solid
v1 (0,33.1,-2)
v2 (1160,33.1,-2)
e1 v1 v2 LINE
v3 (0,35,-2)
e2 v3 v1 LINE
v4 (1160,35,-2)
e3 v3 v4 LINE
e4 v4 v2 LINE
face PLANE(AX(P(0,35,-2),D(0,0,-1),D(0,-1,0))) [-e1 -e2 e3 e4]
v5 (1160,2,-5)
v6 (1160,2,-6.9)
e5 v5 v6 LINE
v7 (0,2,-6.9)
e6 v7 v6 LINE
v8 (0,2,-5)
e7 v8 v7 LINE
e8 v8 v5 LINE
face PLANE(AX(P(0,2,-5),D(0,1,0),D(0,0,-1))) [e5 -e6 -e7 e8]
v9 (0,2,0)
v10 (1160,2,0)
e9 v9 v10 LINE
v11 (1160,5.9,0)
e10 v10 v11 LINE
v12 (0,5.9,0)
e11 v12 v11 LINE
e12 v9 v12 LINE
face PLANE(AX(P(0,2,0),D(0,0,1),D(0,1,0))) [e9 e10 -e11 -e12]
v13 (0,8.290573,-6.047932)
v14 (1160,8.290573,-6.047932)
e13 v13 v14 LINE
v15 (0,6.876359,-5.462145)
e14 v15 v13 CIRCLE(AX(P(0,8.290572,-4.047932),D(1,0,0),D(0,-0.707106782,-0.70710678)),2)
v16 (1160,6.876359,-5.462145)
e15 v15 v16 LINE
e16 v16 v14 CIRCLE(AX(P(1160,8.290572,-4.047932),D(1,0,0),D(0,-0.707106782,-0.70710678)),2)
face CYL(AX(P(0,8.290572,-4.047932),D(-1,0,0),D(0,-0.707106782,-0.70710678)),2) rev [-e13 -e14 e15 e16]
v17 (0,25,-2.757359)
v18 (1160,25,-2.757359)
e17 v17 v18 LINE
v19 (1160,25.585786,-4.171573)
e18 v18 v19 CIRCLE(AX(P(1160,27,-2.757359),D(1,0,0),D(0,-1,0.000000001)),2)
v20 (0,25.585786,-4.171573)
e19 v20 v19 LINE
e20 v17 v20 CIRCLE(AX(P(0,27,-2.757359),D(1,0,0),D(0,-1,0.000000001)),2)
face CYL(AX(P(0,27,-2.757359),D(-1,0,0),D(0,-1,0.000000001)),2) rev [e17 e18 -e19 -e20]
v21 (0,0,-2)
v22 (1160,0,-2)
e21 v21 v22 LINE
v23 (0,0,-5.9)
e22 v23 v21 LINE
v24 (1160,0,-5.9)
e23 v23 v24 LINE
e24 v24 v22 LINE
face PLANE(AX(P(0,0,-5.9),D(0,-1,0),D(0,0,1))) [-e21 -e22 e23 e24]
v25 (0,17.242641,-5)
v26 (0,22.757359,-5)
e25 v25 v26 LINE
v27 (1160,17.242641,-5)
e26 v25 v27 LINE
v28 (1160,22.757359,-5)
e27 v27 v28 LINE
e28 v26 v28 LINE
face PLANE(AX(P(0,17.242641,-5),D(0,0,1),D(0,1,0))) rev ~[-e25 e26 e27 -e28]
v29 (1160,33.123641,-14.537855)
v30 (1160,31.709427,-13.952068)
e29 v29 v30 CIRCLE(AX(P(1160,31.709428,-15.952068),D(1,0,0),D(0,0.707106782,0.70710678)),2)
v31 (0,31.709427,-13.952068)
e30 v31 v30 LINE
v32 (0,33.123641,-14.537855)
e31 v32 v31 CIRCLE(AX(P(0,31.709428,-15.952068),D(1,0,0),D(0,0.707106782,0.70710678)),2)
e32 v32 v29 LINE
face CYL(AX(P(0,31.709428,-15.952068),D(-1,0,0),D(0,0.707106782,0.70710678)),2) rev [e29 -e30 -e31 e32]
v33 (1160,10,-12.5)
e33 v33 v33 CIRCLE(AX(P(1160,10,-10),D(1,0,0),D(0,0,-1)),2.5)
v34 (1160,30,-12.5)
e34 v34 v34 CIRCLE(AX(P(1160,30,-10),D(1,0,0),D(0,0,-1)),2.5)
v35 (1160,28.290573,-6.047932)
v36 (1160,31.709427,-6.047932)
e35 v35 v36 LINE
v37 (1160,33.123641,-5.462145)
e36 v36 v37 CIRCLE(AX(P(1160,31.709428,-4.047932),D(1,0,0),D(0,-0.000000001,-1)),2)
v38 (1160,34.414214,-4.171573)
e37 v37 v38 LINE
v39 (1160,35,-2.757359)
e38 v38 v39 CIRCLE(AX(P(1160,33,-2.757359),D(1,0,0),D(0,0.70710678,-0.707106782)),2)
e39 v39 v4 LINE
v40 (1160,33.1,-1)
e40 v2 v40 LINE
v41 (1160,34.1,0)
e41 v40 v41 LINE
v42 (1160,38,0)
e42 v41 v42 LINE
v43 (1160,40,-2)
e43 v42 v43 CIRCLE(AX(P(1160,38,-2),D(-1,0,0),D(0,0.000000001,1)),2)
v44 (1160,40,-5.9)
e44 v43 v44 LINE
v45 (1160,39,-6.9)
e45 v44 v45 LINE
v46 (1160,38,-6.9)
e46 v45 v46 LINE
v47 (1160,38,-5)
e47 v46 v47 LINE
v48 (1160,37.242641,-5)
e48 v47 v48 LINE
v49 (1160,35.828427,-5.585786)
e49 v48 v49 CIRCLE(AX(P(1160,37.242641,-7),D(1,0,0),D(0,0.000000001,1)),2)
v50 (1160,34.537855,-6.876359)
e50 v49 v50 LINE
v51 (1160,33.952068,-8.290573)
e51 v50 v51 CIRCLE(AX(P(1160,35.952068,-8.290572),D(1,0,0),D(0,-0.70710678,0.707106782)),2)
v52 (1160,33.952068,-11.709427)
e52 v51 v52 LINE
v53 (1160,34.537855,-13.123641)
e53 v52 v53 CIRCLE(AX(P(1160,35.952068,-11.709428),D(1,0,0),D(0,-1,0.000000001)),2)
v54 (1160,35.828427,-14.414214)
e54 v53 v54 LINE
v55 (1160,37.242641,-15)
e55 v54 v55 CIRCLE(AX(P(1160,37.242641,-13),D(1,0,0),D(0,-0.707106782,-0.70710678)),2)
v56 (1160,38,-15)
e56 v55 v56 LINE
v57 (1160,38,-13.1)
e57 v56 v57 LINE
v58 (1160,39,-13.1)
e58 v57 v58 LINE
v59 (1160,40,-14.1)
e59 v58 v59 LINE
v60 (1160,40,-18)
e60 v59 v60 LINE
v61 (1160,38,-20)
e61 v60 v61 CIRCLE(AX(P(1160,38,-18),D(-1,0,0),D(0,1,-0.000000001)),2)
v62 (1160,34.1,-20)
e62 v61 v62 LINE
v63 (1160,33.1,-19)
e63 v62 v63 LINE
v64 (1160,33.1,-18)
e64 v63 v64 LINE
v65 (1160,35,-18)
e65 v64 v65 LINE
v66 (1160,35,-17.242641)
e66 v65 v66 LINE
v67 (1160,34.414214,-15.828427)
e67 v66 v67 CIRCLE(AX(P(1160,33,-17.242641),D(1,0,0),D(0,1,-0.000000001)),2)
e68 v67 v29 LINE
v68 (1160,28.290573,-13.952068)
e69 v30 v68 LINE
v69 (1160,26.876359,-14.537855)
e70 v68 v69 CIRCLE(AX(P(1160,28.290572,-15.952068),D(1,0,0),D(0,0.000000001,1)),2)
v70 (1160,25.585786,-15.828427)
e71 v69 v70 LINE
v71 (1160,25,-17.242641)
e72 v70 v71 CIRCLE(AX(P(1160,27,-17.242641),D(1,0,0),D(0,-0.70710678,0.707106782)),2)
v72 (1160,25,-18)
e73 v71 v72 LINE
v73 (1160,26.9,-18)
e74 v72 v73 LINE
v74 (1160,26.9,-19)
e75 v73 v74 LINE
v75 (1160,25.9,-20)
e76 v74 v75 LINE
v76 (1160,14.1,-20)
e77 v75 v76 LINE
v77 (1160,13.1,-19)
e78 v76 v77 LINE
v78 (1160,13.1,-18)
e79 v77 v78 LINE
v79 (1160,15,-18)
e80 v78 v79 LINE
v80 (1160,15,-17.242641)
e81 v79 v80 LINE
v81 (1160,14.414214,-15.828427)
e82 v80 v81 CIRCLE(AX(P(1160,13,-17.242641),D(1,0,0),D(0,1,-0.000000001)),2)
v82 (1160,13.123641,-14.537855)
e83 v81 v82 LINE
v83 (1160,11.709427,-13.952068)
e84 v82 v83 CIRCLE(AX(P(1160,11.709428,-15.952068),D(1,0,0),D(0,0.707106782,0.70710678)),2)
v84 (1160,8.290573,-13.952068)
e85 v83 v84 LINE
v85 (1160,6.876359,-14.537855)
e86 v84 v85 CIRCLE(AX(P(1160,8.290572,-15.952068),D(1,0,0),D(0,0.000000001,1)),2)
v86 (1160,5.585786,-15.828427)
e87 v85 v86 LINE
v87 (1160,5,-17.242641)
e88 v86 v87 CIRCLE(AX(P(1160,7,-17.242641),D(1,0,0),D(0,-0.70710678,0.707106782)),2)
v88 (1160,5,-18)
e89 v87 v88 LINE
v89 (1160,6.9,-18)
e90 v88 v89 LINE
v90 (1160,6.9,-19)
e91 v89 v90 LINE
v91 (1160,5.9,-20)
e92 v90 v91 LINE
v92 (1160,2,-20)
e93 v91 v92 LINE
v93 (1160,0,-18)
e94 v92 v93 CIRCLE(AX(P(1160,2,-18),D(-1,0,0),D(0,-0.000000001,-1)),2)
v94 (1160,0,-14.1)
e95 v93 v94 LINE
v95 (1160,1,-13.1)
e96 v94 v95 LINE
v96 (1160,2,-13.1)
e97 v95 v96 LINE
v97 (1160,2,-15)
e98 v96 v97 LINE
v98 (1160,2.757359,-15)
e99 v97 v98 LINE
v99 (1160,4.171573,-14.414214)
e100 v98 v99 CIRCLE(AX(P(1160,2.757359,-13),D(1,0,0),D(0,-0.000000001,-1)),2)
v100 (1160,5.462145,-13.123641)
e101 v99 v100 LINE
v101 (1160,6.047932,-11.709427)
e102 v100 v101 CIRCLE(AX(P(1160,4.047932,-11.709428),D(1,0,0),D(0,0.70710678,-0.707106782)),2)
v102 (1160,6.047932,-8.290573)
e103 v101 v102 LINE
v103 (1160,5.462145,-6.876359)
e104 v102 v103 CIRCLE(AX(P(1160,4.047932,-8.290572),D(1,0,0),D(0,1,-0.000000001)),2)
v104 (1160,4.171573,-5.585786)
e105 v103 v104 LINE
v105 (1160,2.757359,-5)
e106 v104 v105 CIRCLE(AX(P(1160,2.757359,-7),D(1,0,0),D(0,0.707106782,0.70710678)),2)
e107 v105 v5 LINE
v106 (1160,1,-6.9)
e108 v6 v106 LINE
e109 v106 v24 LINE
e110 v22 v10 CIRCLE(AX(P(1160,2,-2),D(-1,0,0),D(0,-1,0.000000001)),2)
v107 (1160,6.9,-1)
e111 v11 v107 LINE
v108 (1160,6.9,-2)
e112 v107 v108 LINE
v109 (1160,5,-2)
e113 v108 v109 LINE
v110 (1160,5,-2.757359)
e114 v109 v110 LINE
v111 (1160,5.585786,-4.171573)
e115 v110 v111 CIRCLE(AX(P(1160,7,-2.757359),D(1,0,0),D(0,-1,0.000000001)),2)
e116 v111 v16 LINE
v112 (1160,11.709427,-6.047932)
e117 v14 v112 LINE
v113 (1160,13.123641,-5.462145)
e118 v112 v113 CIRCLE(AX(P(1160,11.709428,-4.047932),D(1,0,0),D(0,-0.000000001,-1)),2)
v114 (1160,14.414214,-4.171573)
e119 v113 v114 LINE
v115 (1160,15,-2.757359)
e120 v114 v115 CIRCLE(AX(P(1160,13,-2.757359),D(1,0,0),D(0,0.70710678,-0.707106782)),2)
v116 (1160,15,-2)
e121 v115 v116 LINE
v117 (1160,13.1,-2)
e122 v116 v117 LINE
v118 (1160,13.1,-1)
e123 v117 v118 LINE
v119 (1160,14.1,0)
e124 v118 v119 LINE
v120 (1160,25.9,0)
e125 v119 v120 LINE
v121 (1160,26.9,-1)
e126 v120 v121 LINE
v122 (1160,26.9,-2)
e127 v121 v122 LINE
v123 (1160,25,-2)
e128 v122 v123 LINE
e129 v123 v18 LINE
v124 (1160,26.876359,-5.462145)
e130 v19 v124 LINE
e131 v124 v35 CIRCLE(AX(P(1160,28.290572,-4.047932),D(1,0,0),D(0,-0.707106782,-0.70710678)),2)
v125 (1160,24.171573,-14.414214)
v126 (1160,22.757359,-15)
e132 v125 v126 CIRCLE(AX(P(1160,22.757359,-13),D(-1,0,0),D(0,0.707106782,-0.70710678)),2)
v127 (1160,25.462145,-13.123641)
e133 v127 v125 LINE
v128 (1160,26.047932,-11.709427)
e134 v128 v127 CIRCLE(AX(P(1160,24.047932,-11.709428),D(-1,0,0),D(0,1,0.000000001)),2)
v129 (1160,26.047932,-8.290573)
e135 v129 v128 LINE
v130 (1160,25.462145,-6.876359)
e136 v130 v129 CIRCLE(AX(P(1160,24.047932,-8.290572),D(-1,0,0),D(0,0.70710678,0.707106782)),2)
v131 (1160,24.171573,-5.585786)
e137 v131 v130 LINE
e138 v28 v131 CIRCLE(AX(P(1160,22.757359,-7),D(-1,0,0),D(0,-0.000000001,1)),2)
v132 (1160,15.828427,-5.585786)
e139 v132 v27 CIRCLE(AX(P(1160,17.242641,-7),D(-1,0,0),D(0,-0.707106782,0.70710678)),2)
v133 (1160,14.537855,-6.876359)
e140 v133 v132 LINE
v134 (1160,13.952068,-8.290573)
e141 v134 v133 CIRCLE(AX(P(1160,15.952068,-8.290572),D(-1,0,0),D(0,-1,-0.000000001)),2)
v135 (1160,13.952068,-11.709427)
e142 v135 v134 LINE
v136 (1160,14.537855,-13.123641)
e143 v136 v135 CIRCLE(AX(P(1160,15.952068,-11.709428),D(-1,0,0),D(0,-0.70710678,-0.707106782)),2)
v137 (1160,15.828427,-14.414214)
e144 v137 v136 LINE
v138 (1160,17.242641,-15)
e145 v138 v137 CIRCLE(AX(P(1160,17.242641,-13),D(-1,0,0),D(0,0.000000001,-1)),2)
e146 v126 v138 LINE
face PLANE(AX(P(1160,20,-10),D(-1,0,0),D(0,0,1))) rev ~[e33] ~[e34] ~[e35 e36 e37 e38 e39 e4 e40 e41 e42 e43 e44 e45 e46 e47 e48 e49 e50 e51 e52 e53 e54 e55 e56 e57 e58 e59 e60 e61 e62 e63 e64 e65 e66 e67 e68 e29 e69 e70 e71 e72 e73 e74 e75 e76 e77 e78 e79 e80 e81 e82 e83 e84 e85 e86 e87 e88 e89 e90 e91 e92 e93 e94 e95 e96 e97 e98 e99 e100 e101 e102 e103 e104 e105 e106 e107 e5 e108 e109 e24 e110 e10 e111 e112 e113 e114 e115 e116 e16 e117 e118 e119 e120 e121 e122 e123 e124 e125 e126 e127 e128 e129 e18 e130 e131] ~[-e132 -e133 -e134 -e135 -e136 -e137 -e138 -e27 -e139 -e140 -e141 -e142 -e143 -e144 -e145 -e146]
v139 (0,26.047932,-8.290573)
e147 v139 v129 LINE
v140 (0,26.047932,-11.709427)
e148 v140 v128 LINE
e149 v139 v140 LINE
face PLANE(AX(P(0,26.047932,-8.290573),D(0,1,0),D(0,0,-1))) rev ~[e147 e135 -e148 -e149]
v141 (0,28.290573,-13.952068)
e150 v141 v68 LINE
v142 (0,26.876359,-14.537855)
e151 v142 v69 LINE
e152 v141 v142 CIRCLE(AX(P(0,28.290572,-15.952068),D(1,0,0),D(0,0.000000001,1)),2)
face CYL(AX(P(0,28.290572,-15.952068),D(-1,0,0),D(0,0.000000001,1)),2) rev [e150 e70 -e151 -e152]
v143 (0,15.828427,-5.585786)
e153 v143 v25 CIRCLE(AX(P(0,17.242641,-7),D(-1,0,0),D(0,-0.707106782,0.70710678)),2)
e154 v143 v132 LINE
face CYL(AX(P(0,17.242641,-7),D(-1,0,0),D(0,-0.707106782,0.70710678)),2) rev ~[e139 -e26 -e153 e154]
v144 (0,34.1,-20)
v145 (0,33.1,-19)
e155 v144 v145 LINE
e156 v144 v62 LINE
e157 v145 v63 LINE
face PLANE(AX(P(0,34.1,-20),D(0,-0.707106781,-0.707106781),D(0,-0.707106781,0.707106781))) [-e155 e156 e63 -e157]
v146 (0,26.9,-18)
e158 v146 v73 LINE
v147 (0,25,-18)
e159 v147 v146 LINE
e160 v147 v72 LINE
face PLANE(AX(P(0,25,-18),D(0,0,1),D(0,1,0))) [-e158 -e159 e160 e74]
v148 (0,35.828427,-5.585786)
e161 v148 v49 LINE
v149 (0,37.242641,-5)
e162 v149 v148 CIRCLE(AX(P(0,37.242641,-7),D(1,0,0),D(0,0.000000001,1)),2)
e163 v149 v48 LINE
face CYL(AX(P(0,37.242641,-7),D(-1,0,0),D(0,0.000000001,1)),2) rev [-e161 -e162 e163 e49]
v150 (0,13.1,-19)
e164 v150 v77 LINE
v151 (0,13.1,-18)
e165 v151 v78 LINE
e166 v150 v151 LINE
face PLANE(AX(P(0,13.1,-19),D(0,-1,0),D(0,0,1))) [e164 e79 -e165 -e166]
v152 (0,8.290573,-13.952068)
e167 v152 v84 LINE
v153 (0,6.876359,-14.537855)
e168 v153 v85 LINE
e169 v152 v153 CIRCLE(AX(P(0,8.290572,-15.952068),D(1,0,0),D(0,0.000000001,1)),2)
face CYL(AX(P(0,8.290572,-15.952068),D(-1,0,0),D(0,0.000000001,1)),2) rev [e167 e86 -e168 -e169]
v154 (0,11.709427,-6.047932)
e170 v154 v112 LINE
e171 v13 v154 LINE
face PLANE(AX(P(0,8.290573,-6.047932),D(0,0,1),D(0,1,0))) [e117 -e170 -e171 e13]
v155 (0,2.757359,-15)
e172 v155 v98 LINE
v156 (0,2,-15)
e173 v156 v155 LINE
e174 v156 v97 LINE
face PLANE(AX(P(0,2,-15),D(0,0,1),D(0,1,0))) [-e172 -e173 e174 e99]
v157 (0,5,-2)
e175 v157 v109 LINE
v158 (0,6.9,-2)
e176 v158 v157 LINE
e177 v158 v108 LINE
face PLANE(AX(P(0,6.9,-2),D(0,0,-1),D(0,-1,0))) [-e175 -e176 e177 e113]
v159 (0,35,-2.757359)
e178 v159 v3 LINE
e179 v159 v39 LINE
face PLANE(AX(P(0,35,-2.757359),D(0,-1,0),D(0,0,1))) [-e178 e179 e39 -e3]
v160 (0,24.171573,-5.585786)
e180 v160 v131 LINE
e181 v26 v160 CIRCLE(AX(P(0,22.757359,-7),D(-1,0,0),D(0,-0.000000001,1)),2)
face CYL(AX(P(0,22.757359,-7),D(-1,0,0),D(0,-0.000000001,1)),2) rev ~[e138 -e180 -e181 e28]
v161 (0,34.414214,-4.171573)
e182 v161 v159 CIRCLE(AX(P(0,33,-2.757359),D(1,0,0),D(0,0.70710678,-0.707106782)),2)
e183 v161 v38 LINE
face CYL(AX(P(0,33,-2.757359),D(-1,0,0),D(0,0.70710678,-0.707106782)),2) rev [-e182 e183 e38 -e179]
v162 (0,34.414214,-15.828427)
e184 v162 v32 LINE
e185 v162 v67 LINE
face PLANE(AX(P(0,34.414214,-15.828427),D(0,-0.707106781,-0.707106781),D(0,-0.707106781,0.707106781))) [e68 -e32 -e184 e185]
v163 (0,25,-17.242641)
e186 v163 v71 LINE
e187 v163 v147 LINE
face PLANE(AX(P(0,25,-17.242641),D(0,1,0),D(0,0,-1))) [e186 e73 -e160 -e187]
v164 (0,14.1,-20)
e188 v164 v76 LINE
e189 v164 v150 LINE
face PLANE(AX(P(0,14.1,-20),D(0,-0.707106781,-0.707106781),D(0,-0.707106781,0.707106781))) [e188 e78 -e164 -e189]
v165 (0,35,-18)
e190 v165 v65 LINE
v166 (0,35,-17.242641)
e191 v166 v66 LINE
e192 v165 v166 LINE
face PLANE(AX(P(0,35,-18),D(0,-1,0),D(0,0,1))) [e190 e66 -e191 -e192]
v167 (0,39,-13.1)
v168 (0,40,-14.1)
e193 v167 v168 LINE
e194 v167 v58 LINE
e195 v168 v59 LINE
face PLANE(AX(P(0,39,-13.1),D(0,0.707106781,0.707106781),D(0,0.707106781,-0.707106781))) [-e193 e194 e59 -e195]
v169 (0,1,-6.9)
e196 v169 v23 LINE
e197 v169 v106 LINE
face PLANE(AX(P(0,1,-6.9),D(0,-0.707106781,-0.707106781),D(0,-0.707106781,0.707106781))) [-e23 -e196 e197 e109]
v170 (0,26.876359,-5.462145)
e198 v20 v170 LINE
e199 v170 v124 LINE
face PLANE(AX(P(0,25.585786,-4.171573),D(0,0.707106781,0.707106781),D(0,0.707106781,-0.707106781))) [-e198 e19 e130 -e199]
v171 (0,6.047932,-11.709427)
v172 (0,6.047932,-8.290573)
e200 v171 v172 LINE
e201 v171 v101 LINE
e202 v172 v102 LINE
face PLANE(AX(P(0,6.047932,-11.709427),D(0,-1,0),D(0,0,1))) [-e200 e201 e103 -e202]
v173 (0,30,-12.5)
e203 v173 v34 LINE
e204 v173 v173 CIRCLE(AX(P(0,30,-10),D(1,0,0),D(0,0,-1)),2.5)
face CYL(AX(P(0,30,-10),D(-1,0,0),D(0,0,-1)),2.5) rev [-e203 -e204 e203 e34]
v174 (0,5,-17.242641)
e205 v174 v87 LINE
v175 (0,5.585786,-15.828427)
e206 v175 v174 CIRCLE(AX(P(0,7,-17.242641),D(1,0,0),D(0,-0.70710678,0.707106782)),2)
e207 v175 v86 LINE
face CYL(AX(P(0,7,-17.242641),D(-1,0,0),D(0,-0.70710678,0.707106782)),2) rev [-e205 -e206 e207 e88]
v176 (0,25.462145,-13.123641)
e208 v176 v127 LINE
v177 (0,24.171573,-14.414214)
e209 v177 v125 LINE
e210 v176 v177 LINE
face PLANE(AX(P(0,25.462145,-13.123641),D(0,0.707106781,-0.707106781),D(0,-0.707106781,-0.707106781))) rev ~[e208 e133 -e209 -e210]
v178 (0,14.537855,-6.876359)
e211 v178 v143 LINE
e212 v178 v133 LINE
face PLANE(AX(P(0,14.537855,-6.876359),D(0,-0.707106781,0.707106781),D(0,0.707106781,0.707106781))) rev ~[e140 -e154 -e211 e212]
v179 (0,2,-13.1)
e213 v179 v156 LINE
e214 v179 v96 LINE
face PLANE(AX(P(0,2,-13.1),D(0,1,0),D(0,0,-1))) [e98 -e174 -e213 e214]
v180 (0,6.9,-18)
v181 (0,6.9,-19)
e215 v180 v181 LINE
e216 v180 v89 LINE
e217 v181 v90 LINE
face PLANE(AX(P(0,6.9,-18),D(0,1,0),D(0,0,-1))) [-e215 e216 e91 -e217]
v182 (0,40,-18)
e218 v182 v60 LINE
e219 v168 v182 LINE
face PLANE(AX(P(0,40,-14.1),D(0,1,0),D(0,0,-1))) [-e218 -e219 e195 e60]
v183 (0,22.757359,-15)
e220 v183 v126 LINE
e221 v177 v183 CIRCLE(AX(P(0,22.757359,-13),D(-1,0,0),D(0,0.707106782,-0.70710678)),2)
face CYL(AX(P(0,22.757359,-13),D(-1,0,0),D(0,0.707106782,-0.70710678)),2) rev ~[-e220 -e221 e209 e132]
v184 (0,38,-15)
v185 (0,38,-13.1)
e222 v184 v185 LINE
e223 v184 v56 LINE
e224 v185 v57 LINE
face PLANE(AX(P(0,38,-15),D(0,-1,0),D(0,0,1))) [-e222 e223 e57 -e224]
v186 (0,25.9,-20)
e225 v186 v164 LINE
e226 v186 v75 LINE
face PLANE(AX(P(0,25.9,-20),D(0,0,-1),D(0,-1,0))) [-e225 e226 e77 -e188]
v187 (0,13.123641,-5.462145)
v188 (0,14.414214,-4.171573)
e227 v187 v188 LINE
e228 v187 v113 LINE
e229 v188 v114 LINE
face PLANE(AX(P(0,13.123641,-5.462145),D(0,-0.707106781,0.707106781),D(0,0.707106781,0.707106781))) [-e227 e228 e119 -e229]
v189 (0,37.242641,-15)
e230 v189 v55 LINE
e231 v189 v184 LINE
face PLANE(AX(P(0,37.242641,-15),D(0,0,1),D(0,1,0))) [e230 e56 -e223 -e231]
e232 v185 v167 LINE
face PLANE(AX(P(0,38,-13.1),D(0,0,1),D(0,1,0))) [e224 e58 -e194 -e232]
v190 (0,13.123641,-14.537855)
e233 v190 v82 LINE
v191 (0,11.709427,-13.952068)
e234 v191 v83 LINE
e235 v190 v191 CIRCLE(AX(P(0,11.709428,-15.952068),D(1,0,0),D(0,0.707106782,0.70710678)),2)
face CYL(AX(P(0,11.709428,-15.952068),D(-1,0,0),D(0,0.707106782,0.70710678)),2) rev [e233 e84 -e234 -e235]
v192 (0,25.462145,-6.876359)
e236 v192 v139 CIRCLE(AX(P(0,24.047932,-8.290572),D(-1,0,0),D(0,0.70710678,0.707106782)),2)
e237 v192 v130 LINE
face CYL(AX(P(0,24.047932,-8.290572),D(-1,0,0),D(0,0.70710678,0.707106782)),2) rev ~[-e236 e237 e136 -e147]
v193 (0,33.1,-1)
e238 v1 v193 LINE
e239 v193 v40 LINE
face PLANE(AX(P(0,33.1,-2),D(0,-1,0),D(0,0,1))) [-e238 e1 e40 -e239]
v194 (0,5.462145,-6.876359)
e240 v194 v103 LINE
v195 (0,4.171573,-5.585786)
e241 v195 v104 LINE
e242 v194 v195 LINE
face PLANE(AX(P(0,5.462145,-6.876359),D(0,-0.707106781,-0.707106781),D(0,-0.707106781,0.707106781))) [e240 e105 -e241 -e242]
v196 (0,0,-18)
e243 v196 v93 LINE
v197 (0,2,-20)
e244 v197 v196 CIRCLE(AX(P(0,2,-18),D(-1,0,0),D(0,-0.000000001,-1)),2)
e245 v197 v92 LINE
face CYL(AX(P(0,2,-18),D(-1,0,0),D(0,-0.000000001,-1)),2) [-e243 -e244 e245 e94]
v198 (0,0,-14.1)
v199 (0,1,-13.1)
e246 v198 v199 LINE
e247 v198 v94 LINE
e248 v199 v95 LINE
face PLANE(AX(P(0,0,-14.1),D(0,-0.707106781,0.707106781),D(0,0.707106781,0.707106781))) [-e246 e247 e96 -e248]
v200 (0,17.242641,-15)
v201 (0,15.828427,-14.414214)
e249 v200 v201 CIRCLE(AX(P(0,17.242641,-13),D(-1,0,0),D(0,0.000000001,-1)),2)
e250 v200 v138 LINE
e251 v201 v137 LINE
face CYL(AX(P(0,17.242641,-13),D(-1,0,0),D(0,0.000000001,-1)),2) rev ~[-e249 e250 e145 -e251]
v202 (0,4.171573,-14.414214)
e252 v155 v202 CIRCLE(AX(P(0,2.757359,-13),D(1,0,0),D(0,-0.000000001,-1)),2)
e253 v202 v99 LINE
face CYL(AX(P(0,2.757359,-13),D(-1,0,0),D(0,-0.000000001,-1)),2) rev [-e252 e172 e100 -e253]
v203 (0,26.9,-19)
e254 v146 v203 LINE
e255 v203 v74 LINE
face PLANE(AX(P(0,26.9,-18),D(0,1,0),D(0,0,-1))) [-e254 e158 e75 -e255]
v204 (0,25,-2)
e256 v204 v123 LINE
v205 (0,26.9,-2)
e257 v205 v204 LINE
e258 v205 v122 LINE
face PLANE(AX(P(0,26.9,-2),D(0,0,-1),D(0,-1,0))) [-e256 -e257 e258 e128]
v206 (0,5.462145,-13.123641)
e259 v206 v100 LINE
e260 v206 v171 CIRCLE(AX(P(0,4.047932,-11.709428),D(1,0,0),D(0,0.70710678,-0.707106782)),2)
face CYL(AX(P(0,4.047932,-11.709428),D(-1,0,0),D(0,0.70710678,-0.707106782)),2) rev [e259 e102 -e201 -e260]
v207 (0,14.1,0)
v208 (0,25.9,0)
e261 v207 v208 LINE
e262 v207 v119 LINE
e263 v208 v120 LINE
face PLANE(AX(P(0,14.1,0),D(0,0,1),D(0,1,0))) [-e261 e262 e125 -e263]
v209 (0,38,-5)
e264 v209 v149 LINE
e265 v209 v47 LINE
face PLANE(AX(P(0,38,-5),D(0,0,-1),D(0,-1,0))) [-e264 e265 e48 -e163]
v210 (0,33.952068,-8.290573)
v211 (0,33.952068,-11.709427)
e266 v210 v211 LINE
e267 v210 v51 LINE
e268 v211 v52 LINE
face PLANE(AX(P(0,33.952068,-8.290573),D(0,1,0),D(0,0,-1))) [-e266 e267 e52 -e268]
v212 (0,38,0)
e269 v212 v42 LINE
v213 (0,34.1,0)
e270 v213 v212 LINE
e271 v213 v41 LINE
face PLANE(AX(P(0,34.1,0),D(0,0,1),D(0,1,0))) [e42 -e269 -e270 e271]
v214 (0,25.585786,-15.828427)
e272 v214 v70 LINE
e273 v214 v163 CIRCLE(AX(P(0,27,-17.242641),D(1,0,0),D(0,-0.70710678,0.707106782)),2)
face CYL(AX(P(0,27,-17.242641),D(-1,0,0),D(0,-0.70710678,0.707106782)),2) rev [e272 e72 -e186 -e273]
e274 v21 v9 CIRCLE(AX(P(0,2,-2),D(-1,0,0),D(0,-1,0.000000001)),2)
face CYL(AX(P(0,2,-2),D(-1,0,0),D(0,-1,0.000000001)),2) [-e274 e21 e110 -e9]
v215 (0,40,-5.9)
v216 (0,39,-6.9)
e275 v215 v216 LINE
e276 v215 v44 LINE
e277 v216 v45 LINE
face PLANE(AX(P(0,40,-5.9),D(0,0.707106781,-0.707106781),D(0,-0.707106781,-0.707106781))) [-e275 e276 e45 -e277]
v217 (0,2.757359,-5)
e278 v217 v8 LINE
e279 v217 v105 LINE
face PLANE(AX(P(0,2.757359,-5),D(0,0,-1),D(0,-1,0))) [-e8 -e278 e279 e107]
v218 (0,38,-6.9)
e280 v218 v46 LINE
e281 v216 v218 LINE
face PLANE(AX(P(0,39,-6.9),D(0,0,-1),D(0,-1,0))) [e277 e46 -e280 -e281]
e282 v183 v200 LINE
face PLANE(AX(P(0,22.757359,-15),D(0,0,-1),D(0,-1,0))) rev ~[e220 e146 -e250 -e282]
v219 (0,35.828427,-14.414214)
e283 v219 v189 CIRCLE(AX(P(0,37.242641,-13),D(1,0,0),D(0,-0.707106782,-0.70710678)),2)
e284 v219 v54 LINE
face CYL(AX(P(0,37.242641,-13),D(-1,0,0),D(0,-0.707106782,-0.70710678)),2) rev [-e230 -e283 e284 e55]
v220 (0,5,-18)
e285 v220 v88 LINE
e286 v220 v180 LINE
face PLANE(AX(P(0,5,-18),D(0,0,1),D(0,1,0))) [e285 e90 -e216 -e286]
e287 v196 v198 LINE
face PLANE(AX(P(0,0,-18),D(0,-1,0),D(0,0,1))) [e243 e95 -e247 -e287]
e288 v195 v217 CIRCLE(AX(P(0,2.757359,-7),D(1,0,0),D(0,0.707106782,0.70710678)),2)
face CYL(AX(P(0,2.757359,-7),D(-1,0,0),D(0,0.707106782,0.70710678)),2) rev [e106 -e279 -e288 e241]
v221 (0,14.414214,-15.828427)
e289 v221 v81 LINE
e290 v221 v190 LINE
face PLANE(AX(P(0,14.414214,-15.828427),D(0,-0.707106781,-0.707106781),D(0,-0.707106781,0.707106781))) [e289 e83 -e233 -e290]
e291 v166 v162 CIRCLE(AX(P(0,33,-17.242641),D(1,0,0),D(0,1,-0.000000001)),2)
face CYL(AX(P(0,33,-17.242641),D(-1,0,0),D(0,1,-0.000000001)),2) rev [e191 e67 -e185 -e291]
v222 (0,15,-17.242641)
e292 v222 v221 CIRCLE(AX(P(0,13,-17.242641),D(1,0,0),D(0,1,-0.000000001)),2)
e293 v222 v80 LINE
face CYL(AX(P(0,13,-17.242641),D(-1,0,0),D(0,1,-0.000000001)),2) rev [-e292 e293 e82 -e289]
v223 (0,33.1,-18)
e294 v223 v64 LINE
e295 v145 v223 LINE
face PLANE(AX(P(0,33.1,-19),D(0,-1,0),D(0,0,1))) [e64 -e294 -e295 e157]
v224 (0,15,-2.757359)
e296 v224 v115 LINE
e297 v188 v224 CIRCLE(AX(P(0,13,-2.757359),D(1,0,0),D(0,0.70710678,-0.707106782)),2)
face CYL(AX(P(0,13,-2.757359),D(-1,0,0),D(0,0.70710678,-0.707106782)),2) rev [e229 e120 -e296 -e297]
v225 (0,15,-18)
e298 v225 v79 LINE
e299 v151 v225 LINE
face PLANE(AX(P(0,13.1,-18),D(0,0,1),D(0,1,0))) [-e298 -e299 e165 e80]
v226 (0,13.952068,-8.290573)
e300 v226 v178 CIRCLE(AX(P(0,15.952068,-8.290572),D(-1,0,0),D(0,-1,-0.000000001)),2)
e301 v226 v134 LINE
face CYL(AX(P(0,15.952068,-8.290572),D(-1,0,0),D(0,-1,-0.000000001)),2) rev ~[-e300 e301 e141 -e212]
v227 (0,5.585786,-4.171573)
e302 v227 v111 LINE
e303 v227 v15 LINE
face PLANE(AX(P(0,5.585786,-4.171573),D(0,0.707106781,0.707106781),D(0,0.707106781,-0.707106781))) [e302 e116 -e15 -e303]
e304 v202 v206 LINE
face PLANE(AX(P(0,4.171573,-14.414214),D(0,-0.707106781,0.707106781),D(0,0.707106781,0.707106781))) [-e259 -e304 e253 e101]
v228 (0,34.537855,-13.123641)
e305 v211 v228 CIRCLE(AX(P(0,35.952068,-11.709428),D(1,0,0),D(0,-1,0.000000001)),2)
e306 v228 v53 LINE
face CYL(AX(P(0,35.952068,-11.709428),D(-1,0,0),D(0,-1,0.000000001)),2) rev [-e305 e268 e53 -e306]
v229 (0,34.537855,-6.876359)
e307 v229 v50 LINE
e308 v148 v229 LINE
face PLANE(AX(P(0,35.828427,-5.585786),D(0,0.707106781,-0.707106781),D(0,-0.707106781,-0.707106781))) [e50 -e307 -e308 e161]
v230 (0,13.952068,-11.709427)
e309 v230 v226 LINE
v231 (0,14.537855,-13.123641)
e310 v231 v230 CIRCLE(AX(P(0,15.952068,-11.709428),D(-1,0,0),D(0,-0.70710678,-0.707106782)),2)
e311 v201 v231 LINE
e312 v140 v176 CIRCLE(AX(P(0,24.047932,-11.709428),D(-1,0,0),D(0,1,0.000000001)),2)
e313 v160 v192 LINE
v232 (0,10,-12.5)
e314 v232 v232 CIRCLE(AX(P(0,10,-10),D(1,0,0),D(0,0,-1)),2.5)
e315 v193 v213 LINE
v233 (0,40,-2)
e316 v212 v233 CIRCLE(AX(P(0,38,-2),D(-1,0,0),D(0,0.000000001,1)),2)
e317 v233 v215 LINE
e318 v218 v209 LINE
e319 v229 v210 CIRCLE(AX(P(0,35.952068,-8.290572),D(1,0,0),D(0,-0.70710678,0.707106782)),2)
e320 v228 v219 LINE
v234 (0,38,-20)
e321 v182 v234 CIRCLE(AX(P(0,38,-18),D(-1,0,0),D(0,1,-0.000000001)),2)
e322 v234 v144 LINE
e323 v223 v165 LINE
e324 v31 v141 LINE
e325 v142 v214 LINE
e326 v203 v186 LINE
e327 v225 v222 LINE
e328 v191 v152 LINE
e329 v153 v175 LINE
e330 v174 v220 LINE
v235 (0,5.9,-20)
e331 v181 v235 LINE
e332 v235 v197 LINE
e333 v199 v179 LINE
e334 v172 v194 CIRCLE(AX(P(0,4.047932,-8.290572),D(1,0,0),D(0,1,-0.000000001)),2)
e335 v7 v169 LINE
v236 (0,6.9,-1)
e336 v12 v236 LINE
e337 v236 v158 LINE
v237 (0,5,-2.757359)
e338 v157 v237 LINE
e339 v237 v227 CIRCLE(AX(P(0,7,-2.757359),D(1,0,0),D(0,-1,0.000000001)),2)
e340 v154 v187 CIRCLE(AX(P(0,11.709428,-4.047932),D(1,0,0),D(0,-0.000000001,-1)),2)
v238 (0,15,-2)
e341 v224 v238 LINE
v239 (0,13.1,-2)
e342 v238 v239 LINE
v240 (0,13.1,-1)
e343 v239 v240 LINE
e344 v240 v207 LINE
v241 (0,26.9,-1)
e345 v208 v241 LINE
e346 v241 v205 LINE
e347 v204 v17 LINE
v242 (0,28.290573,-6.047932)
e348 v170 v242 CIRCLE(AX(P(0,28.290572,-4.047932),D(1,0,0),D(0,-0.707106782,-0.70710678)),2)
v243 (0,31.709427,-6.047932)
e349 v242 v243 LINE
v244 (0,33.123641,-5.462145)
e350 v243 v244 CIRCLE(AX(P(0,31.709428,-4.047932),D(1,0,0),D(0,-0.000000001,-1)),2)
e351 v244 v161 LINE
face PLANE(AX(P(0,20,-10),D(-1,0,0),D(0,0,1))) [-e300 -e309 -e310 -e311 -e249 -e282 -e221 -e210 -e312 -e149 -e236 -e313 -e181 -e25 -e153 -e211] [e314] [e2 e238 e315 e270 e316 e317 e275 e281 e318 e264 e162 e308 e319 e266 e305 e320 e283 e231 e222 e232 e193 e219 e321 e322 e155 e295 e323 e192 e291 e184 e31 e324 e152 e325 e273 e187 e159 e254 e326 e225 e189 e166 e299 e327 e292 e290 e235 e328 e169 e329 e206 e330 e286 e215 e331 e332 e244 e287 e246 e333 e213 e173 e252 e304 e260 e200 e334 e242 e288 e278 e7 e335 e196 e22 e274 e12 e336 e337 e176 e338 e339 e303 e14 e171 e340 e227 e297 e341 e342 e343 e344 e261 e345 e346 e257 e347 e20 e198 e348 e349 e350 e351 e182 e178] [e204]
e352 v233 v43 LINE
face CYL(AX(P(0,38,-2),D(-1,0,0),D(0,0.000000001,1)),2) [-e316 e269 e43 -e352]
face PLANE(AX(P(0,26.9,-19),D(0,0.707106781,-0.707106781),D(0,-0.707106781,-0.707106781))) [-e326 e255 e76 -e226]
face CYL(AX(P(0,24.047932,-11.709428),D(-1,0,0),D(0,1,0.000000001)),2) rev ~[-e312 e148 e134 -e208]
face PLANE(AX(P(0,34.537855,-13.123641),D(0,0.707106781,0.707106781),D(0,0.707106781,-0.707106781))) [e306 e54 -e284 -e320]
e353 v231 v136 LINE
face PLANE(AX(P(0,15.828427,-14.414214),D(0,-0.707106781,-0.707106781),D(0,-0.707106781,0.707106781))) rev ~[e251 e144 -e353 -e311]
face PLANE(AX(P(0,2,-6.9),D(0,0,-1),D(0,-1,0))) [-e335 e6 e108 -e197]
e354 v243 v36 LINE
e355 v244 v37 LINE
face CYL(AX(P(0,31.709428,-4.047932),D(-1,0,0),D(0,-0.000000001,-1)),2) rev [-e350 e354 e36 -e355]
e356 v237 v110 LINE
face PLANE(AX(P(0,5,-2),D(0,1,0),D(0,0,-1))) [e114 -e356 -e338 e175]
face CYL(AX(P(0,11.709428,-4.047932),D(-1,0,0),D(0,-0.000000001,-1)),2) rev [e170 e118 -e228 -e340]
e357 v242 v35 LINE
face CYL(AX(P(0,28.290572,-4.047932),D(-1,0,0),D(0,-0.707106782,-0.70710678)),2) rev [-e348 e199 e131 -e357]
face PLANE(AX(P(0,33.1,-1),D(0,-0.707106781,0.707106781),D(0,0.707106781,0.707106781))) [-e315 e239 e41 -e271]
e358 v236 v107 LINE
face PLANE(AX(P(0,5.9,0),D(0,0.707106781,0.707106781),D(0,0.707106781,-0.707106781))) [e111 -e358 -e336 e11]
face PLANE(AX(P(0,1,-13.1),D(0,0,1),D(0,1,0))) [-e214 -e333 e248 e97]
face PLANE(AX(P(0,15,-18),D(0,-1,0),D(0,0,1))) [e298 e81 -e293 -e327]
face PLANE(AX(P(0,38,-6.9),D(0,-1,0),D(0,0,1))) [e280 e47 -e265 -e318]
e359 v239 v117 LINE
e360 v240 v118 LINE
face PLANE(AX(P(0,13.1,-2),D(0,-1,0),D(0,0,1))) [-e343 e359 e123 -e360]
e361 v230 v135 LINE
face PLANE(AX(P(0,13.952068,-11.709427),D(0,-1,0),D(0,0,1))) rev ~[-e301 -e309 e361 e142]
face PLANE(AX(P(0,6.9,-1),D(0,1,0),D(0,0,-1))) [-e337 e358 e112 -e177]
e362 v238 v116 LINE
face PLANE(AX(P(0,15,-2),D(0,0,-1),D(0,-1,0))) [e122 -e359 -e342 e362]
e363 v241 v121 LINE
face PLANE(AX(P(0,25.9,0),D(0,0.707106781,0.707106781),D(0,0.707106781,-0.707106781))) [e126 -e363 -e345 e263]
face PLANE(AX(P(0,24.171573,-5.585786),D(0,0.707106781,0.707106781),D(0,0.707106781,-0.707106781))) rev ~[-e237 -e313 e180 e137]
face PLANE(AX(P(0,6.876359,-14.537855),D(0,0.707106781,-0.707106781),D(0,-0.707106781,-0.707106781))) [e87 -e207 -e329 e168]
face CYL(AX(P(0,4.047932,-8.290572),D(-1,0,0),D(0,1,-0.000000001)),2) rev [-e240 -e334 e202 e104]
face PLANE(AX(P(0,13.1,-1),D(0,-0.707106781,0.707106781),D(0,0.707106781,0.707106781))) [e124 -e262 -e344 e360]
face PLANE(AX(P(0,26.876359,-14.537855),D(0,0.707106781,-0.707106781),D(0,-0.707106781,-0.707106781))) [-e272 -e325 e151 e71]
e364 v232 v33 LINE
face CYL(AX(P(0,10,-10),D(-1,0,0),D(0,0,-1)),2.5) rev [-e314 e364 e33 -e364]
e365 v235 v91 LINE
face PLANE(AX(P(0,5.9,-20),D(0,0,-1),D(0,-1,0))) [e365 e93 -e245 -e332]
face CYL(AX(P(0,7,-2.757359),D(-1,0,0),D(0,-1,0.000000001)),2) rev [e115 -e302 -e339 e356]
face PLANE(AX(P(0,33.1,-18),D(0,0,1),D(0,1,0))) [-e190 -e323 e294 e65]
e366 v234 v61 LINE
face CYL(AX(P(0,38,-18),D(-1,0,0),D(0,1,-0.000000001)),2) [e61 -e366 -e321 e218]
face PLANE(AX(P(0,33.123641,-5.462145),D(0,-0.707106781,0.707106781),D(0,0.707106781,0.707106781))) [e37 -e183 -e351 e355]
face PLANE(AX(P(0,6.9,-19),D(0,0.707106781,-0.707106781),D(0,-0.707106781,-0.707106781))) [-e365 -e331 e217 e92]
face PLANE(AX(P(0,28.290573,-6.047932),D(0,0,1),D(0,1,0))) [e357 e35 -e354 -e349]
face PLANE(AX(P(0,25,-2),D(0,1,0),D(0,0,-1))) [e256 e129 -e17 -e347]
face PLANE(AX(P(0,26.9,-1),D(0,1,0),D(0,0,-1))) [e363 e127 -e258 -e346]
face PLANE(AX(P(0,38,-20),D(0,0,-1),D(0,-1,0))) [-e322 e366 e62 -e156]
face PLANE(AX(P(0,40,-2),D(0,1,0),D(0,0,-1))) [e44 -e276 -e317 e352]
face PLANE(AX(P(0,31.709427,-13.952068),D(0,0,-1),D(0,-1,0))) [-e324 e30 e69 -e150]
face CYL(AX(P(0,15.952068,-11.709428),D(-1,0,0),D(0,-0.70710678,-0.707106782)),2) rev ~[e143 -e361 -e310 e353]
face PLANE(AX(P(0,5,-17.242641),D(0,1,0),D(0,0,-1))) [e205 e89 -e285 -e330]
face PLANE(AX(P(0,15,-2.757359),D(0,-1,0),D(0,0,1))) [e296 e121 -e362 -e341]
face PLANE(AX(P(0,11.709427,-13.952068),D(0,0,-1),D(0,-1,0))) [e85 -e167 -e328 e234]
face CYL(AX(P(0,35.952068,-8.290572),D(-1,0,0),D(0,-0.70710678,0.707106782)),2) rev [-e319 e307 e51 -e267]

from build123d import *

# Parameters (mm, degrees)
SKETCH1_R           = 2.5
BOSS_EXTRUDE1_DEPTH = 1160


with BuildPart() as part:
    # Sketch1 → Boss-Extrude1 (new body)
    with BuildSketch(Plane(origin=(0, 0, 0), x_dir=(0, 0, -1), z_dir=(1, 0, 0))):
        with BuildLine():
            Line((6.9, 38), (5, 38))
            Line((5, 38), (5, 37.242640687))
            ThreePointArc((5, 37.242640687), (5.152240935, 36.477273822), (5.585786438, 35.828427125))
            Line((5.585786438, 35.828427125), (6.876358939, 34.537854624))
            ThreePointArc((6.876358939, 34.537854624), (7.525205636, 34.104309121), (8.290572501, 33.952068186))
            Line((8.290572501, 33.952068186), (11.709427499, 33.952068186))
            ThreePointArc((11.709427499, 33.952068186), (12.474794364, 34.104309121), (13.123641061, 34.537854624))
            Line((13.123641061, 34.537854624), (14.414213562, 35.828427125))
            ThreePointArc((14.414213562, 35.828427125), (14.847759065, 36.477273822), (15, 37.242640687))
            Line((15, 37.242640687), (15, 38))
            Line((15, 38), (13.1, 38))
            Line((13.1, 38), (13.1, 39))
            Line((13.1, 39), (14.1, 40))
            Line((14.1, 40), (18, 40))
            ThreePointArc((18, 40), (19.414213562, 39.414213562), (20, 38))
            Line((20, 38), (20, 34.1))
            Line((20, 34.1), (19, 33.1))
            Line((19, 33.1), (18, 33.1))
            Line((18, 33.1), (18, 35))
            Line((18, 35), (17.242640687, 35))
            ThreePointArc((17.242640687, 35), (16.477273822, 34.847759065), (15.828427125, 34.414213562))
            Line((15.828427125, 34.414213562), (14.537854624, 33.123641061))
            ThreePointArc((14.537854624, 33.123641061), (14.104309121, 32.474794364), (13.952068186, 31.709427499))
            Line((13.952068186, 31.709427499), (13.952068186, 28.290572501))
            ThreePointArc((13.952068186, 28.290572501), (14.104309121, 27.525205636), (14.537854624, 26.876358939))
            Line((14.537854624, 26.876358939), (15.828427125, 25.585786438))
            ThreePointArc((15.828427125, 25.585786438), (16.477273822, 25.152240935), (17.242640687, 25))
            Line((17.242640687, 25), (18, 25))
            Line((18, 25), (18, 26.9))
            Line((18, 26.9), (19, 26.9))
            Line((19, 26.9), (20, 25.9))
            Line((20, 25.9), (20, 14.1))
            Line((20, 14.1), (19, 13.1))
            Line((19, 13.1), (18, 13.1))
            Line((18, 13.1), (18, 15))
            Line((18, 15), (17.242640687, 15))
            ThreePointArc((17.242640687, 15), (16.477273822, 14.847759065), (15.828427125, 14.414213562))
            Line((15.828427125, 14.414213562), (14.537854624, 13.123641061))
            ThreePointArc((14.537854624, 13.123641061), (14.104309121, 12.474794364), (13.952068186, 11.709427499))
            Line((13.952068186, 11.709427499), (13.952068186, 8.290572501))
            ThreePointArc((13.952068186, 8.290572501), (14.104309121, 7.525205636), (14.537854624, 6.876358939))
            Line((14.537854624, 6.876358939), (15.828427125, 5.585786438))
            ThreePointArc((15.828427125, 5.585786438), (16.477273822, 5.152240935), (17.242640687, 5))
            Line((17.242640687, 5), (18, 5))
            Line((18, 5), (18, 6.9))
            Line((18, 6.9), (19, 6.9))
            Line((19, 6.9), (20, 5.9))
            Line((20, 5.9), (20, 2))
            ThreePointArc((20, 2), (19.414213562, 0.585786438), (18, 0))
            Line((18, 0), (14.1, 0))
            Line((14.1, 0), (13.1, 1))
            Line((13.1, 1), (13.1, 2))
            Line((13.1, 2), (15, 2))
            Line((15, 2), (15, 2.757359313))
            ThreePointArc((15, 2.757359313), (14.847759065, 3.522726178), (14.414213562, 4.171572875))
            Line((14.414213562, 4.171572875), (13.123641061, 5.462145376))
            ThreePointArc((13.123641061, 5.462145376), (12.474794364, 5.895690879), (11.709427499, 6.047931814))
            Line((11.709427499, 6.047931814), (8.290572501, 6.047931814))
            ThreePointArc((8.290572501, 6.047931814), (7.525205636, 5.895690879), (6.876358939, 5.462145376))
            Line((6.876358939, 5.462145376), (5.585786438, 4.171572875))
            ThreePointArc((5.585786438, 4.171572875), (5.152240935, 3.522726178), (5, 2.757359313))
            Line((5, 2.757359313), (5, 2))
            Line((5, 2), (6.9, 2))
            Line((6.9, 2), (6.9, 1))
            Line((6.9, 1), (5.9, 0))
            Line((5.9, 0), (2, 0))
            ThreePointArc((2, 0), (0.585786438, 0.585786438), (0, 2))
            Line((0, 2), (0, 5.9))
            Line((0, 5.9), (1, 6.9))
            Line((1, 6.9), (2, 6.9))
            Line((2, 6.9), (2, 5))
            Line((2, 5), (2.757359313, 5))
            ThreePointArc((2.757359313, 5), (3.522726178, 5.152240935), (4.171572875, 5.585786438))
            Line((4.171572875, 5.585786438), (5.462145376, 6.876358939))
            ThreePointArc((5.462145376, 6.876358939), (5.895690879, 7.525205636), (6.047931814, 8.290572501))
            Line((6.047931814, 8.290572501), (6.047931814, 11.709427499))
            ThreePointArc((6.047931814, 11.709427499), (5.895690879, 12.474794364), (5.462145376, 13.123641061))
            Line((5.462145376, 13.123641061), (4.171572875, 14.414213562))
            ThreePointArc((4.171572875, 14.414213562), (3.522726178, 14.847759065), (2.757359313, 15))
            Line((2.757359313, 15), (2, 15))
            Line((2, 15), (2, 13.1))
            Line((2, 13.1), (1, 13.1))
            Line((1, 13.1), (0, 14.1))
            Line((0, 14.1), (0, 25.9))
            Line((0, 25.9), (1, 26.9))
            Line((1, 26.9), (2, 26.9))
            Line((2, 26.9), (2, 25))
            Line((2, 25), (2.757359313, 25))
            ThreePointArc((2.757359313, 25), (3.522726178, 25.152240935), (4.171572875, 25.585786438))
            Line((4.171572875, 25.585786438), (5.462145376, 26.876358939))
            ThreePointArc((5.462145376, 26.876358939), (5.895690879, 27.525205636), (6.047931814, 28.290572501))
            Line((6.047931814, 28.290572501), (6.047931814, 31.709427499))
            ThreePointArc((6.047931814, 31.709427499), (5.895690879, 32.474794364), (5.462145376, 33.123641061))
            Line((5.462145376, 33.123641061), (4.171572875, 34.414213562))
            ThreePointArc((4.171572875, 34.414213562), (3.522726178, 34.847759065), (2.757359313, 35))
            Line((2.757359313, 35), (2, 35))
            Line((2, 35), (2, 33.1))
            Line((2, 33.1), (1, 33.1))
            Line((1, 33.1), (0, 34.1))
            Line((0, 34.1), (0, 38))
            ThreePointArc((0, 38), (0.585786438, 39.414213562), (2, 40))
            Line((2, 40), (5.9, 40))
            Line((5.9, 40), (6.9, 39))
            Line((6.9, 39), (6.9, 38))
        make_face()
        with Locations((10, 10)):
            Circle(SKETCH1_R, mode=Mode.SUBTRACT)
        with Locations((10, 30)):
            Circle(SKETCH1_R, mode=Mode.SUBTRACT)
        with BuildLine():
            Line((14.414213562, 15.828427125), (13.123641061, 14.537854624))
            ThreePointArc((13.123641061, 14.537854624), (12.474794364, 14.104309121), (11.709427499, 13.952068186))
            Line((11.709427499, 13.952068186), (8.290572501, 13.952068186))
            ThreePointArc((8.290572501, 13.952068186), (7.525205636, 14.104309121), (6.876358939, 14.537854624))
            Line((6.876358939, 14.537854624), (5.585786438, 15.828427125))
            ThreePointArc((5.585786438, 15.828427125), (5.152240935, 16.477273822), (5, 17.242640687))
            Line((5, 17.242640687), (5, 22.757359313))
            ThreePointArc((5, 22.757359313), (5.152240935, 23.522726178), (5.585786438, 24.171572875))
            Line((5.585786438, 24.171572875), (6.876358939, 25.462145376))
            ThreePointArc((6.876358939, 25.462145376), (7.525205636, 25.895690879), (8.290572501, 26.047931814))
            Line((8.290572501, 26.047931814), (11.709427499, 26.047931814))
            ThreePointArc((11.709427499, 26.047931814), (12.474794364, 25.895690879), (13.123641061, 25.462145376))
            Line((13.123641061, 25.462145376), (14.414213562, 24.171572875))
            ThreePointArc((14.414213562, 24.171572875), (14.847759065, 23.522726178), (15, 22.757359313))
            Line((15, 22.757359313), (15, 17.242640687))
            ThreePointArc((15, 17.242640687), (14.847759065, 16.477273822), (14.414213562, 15.828427125))
        make_face(mode=Mode.SUBTRACT)
    extrude(amount=BOSS_EXTRUDE1_DEPTH)


solid = part.part
